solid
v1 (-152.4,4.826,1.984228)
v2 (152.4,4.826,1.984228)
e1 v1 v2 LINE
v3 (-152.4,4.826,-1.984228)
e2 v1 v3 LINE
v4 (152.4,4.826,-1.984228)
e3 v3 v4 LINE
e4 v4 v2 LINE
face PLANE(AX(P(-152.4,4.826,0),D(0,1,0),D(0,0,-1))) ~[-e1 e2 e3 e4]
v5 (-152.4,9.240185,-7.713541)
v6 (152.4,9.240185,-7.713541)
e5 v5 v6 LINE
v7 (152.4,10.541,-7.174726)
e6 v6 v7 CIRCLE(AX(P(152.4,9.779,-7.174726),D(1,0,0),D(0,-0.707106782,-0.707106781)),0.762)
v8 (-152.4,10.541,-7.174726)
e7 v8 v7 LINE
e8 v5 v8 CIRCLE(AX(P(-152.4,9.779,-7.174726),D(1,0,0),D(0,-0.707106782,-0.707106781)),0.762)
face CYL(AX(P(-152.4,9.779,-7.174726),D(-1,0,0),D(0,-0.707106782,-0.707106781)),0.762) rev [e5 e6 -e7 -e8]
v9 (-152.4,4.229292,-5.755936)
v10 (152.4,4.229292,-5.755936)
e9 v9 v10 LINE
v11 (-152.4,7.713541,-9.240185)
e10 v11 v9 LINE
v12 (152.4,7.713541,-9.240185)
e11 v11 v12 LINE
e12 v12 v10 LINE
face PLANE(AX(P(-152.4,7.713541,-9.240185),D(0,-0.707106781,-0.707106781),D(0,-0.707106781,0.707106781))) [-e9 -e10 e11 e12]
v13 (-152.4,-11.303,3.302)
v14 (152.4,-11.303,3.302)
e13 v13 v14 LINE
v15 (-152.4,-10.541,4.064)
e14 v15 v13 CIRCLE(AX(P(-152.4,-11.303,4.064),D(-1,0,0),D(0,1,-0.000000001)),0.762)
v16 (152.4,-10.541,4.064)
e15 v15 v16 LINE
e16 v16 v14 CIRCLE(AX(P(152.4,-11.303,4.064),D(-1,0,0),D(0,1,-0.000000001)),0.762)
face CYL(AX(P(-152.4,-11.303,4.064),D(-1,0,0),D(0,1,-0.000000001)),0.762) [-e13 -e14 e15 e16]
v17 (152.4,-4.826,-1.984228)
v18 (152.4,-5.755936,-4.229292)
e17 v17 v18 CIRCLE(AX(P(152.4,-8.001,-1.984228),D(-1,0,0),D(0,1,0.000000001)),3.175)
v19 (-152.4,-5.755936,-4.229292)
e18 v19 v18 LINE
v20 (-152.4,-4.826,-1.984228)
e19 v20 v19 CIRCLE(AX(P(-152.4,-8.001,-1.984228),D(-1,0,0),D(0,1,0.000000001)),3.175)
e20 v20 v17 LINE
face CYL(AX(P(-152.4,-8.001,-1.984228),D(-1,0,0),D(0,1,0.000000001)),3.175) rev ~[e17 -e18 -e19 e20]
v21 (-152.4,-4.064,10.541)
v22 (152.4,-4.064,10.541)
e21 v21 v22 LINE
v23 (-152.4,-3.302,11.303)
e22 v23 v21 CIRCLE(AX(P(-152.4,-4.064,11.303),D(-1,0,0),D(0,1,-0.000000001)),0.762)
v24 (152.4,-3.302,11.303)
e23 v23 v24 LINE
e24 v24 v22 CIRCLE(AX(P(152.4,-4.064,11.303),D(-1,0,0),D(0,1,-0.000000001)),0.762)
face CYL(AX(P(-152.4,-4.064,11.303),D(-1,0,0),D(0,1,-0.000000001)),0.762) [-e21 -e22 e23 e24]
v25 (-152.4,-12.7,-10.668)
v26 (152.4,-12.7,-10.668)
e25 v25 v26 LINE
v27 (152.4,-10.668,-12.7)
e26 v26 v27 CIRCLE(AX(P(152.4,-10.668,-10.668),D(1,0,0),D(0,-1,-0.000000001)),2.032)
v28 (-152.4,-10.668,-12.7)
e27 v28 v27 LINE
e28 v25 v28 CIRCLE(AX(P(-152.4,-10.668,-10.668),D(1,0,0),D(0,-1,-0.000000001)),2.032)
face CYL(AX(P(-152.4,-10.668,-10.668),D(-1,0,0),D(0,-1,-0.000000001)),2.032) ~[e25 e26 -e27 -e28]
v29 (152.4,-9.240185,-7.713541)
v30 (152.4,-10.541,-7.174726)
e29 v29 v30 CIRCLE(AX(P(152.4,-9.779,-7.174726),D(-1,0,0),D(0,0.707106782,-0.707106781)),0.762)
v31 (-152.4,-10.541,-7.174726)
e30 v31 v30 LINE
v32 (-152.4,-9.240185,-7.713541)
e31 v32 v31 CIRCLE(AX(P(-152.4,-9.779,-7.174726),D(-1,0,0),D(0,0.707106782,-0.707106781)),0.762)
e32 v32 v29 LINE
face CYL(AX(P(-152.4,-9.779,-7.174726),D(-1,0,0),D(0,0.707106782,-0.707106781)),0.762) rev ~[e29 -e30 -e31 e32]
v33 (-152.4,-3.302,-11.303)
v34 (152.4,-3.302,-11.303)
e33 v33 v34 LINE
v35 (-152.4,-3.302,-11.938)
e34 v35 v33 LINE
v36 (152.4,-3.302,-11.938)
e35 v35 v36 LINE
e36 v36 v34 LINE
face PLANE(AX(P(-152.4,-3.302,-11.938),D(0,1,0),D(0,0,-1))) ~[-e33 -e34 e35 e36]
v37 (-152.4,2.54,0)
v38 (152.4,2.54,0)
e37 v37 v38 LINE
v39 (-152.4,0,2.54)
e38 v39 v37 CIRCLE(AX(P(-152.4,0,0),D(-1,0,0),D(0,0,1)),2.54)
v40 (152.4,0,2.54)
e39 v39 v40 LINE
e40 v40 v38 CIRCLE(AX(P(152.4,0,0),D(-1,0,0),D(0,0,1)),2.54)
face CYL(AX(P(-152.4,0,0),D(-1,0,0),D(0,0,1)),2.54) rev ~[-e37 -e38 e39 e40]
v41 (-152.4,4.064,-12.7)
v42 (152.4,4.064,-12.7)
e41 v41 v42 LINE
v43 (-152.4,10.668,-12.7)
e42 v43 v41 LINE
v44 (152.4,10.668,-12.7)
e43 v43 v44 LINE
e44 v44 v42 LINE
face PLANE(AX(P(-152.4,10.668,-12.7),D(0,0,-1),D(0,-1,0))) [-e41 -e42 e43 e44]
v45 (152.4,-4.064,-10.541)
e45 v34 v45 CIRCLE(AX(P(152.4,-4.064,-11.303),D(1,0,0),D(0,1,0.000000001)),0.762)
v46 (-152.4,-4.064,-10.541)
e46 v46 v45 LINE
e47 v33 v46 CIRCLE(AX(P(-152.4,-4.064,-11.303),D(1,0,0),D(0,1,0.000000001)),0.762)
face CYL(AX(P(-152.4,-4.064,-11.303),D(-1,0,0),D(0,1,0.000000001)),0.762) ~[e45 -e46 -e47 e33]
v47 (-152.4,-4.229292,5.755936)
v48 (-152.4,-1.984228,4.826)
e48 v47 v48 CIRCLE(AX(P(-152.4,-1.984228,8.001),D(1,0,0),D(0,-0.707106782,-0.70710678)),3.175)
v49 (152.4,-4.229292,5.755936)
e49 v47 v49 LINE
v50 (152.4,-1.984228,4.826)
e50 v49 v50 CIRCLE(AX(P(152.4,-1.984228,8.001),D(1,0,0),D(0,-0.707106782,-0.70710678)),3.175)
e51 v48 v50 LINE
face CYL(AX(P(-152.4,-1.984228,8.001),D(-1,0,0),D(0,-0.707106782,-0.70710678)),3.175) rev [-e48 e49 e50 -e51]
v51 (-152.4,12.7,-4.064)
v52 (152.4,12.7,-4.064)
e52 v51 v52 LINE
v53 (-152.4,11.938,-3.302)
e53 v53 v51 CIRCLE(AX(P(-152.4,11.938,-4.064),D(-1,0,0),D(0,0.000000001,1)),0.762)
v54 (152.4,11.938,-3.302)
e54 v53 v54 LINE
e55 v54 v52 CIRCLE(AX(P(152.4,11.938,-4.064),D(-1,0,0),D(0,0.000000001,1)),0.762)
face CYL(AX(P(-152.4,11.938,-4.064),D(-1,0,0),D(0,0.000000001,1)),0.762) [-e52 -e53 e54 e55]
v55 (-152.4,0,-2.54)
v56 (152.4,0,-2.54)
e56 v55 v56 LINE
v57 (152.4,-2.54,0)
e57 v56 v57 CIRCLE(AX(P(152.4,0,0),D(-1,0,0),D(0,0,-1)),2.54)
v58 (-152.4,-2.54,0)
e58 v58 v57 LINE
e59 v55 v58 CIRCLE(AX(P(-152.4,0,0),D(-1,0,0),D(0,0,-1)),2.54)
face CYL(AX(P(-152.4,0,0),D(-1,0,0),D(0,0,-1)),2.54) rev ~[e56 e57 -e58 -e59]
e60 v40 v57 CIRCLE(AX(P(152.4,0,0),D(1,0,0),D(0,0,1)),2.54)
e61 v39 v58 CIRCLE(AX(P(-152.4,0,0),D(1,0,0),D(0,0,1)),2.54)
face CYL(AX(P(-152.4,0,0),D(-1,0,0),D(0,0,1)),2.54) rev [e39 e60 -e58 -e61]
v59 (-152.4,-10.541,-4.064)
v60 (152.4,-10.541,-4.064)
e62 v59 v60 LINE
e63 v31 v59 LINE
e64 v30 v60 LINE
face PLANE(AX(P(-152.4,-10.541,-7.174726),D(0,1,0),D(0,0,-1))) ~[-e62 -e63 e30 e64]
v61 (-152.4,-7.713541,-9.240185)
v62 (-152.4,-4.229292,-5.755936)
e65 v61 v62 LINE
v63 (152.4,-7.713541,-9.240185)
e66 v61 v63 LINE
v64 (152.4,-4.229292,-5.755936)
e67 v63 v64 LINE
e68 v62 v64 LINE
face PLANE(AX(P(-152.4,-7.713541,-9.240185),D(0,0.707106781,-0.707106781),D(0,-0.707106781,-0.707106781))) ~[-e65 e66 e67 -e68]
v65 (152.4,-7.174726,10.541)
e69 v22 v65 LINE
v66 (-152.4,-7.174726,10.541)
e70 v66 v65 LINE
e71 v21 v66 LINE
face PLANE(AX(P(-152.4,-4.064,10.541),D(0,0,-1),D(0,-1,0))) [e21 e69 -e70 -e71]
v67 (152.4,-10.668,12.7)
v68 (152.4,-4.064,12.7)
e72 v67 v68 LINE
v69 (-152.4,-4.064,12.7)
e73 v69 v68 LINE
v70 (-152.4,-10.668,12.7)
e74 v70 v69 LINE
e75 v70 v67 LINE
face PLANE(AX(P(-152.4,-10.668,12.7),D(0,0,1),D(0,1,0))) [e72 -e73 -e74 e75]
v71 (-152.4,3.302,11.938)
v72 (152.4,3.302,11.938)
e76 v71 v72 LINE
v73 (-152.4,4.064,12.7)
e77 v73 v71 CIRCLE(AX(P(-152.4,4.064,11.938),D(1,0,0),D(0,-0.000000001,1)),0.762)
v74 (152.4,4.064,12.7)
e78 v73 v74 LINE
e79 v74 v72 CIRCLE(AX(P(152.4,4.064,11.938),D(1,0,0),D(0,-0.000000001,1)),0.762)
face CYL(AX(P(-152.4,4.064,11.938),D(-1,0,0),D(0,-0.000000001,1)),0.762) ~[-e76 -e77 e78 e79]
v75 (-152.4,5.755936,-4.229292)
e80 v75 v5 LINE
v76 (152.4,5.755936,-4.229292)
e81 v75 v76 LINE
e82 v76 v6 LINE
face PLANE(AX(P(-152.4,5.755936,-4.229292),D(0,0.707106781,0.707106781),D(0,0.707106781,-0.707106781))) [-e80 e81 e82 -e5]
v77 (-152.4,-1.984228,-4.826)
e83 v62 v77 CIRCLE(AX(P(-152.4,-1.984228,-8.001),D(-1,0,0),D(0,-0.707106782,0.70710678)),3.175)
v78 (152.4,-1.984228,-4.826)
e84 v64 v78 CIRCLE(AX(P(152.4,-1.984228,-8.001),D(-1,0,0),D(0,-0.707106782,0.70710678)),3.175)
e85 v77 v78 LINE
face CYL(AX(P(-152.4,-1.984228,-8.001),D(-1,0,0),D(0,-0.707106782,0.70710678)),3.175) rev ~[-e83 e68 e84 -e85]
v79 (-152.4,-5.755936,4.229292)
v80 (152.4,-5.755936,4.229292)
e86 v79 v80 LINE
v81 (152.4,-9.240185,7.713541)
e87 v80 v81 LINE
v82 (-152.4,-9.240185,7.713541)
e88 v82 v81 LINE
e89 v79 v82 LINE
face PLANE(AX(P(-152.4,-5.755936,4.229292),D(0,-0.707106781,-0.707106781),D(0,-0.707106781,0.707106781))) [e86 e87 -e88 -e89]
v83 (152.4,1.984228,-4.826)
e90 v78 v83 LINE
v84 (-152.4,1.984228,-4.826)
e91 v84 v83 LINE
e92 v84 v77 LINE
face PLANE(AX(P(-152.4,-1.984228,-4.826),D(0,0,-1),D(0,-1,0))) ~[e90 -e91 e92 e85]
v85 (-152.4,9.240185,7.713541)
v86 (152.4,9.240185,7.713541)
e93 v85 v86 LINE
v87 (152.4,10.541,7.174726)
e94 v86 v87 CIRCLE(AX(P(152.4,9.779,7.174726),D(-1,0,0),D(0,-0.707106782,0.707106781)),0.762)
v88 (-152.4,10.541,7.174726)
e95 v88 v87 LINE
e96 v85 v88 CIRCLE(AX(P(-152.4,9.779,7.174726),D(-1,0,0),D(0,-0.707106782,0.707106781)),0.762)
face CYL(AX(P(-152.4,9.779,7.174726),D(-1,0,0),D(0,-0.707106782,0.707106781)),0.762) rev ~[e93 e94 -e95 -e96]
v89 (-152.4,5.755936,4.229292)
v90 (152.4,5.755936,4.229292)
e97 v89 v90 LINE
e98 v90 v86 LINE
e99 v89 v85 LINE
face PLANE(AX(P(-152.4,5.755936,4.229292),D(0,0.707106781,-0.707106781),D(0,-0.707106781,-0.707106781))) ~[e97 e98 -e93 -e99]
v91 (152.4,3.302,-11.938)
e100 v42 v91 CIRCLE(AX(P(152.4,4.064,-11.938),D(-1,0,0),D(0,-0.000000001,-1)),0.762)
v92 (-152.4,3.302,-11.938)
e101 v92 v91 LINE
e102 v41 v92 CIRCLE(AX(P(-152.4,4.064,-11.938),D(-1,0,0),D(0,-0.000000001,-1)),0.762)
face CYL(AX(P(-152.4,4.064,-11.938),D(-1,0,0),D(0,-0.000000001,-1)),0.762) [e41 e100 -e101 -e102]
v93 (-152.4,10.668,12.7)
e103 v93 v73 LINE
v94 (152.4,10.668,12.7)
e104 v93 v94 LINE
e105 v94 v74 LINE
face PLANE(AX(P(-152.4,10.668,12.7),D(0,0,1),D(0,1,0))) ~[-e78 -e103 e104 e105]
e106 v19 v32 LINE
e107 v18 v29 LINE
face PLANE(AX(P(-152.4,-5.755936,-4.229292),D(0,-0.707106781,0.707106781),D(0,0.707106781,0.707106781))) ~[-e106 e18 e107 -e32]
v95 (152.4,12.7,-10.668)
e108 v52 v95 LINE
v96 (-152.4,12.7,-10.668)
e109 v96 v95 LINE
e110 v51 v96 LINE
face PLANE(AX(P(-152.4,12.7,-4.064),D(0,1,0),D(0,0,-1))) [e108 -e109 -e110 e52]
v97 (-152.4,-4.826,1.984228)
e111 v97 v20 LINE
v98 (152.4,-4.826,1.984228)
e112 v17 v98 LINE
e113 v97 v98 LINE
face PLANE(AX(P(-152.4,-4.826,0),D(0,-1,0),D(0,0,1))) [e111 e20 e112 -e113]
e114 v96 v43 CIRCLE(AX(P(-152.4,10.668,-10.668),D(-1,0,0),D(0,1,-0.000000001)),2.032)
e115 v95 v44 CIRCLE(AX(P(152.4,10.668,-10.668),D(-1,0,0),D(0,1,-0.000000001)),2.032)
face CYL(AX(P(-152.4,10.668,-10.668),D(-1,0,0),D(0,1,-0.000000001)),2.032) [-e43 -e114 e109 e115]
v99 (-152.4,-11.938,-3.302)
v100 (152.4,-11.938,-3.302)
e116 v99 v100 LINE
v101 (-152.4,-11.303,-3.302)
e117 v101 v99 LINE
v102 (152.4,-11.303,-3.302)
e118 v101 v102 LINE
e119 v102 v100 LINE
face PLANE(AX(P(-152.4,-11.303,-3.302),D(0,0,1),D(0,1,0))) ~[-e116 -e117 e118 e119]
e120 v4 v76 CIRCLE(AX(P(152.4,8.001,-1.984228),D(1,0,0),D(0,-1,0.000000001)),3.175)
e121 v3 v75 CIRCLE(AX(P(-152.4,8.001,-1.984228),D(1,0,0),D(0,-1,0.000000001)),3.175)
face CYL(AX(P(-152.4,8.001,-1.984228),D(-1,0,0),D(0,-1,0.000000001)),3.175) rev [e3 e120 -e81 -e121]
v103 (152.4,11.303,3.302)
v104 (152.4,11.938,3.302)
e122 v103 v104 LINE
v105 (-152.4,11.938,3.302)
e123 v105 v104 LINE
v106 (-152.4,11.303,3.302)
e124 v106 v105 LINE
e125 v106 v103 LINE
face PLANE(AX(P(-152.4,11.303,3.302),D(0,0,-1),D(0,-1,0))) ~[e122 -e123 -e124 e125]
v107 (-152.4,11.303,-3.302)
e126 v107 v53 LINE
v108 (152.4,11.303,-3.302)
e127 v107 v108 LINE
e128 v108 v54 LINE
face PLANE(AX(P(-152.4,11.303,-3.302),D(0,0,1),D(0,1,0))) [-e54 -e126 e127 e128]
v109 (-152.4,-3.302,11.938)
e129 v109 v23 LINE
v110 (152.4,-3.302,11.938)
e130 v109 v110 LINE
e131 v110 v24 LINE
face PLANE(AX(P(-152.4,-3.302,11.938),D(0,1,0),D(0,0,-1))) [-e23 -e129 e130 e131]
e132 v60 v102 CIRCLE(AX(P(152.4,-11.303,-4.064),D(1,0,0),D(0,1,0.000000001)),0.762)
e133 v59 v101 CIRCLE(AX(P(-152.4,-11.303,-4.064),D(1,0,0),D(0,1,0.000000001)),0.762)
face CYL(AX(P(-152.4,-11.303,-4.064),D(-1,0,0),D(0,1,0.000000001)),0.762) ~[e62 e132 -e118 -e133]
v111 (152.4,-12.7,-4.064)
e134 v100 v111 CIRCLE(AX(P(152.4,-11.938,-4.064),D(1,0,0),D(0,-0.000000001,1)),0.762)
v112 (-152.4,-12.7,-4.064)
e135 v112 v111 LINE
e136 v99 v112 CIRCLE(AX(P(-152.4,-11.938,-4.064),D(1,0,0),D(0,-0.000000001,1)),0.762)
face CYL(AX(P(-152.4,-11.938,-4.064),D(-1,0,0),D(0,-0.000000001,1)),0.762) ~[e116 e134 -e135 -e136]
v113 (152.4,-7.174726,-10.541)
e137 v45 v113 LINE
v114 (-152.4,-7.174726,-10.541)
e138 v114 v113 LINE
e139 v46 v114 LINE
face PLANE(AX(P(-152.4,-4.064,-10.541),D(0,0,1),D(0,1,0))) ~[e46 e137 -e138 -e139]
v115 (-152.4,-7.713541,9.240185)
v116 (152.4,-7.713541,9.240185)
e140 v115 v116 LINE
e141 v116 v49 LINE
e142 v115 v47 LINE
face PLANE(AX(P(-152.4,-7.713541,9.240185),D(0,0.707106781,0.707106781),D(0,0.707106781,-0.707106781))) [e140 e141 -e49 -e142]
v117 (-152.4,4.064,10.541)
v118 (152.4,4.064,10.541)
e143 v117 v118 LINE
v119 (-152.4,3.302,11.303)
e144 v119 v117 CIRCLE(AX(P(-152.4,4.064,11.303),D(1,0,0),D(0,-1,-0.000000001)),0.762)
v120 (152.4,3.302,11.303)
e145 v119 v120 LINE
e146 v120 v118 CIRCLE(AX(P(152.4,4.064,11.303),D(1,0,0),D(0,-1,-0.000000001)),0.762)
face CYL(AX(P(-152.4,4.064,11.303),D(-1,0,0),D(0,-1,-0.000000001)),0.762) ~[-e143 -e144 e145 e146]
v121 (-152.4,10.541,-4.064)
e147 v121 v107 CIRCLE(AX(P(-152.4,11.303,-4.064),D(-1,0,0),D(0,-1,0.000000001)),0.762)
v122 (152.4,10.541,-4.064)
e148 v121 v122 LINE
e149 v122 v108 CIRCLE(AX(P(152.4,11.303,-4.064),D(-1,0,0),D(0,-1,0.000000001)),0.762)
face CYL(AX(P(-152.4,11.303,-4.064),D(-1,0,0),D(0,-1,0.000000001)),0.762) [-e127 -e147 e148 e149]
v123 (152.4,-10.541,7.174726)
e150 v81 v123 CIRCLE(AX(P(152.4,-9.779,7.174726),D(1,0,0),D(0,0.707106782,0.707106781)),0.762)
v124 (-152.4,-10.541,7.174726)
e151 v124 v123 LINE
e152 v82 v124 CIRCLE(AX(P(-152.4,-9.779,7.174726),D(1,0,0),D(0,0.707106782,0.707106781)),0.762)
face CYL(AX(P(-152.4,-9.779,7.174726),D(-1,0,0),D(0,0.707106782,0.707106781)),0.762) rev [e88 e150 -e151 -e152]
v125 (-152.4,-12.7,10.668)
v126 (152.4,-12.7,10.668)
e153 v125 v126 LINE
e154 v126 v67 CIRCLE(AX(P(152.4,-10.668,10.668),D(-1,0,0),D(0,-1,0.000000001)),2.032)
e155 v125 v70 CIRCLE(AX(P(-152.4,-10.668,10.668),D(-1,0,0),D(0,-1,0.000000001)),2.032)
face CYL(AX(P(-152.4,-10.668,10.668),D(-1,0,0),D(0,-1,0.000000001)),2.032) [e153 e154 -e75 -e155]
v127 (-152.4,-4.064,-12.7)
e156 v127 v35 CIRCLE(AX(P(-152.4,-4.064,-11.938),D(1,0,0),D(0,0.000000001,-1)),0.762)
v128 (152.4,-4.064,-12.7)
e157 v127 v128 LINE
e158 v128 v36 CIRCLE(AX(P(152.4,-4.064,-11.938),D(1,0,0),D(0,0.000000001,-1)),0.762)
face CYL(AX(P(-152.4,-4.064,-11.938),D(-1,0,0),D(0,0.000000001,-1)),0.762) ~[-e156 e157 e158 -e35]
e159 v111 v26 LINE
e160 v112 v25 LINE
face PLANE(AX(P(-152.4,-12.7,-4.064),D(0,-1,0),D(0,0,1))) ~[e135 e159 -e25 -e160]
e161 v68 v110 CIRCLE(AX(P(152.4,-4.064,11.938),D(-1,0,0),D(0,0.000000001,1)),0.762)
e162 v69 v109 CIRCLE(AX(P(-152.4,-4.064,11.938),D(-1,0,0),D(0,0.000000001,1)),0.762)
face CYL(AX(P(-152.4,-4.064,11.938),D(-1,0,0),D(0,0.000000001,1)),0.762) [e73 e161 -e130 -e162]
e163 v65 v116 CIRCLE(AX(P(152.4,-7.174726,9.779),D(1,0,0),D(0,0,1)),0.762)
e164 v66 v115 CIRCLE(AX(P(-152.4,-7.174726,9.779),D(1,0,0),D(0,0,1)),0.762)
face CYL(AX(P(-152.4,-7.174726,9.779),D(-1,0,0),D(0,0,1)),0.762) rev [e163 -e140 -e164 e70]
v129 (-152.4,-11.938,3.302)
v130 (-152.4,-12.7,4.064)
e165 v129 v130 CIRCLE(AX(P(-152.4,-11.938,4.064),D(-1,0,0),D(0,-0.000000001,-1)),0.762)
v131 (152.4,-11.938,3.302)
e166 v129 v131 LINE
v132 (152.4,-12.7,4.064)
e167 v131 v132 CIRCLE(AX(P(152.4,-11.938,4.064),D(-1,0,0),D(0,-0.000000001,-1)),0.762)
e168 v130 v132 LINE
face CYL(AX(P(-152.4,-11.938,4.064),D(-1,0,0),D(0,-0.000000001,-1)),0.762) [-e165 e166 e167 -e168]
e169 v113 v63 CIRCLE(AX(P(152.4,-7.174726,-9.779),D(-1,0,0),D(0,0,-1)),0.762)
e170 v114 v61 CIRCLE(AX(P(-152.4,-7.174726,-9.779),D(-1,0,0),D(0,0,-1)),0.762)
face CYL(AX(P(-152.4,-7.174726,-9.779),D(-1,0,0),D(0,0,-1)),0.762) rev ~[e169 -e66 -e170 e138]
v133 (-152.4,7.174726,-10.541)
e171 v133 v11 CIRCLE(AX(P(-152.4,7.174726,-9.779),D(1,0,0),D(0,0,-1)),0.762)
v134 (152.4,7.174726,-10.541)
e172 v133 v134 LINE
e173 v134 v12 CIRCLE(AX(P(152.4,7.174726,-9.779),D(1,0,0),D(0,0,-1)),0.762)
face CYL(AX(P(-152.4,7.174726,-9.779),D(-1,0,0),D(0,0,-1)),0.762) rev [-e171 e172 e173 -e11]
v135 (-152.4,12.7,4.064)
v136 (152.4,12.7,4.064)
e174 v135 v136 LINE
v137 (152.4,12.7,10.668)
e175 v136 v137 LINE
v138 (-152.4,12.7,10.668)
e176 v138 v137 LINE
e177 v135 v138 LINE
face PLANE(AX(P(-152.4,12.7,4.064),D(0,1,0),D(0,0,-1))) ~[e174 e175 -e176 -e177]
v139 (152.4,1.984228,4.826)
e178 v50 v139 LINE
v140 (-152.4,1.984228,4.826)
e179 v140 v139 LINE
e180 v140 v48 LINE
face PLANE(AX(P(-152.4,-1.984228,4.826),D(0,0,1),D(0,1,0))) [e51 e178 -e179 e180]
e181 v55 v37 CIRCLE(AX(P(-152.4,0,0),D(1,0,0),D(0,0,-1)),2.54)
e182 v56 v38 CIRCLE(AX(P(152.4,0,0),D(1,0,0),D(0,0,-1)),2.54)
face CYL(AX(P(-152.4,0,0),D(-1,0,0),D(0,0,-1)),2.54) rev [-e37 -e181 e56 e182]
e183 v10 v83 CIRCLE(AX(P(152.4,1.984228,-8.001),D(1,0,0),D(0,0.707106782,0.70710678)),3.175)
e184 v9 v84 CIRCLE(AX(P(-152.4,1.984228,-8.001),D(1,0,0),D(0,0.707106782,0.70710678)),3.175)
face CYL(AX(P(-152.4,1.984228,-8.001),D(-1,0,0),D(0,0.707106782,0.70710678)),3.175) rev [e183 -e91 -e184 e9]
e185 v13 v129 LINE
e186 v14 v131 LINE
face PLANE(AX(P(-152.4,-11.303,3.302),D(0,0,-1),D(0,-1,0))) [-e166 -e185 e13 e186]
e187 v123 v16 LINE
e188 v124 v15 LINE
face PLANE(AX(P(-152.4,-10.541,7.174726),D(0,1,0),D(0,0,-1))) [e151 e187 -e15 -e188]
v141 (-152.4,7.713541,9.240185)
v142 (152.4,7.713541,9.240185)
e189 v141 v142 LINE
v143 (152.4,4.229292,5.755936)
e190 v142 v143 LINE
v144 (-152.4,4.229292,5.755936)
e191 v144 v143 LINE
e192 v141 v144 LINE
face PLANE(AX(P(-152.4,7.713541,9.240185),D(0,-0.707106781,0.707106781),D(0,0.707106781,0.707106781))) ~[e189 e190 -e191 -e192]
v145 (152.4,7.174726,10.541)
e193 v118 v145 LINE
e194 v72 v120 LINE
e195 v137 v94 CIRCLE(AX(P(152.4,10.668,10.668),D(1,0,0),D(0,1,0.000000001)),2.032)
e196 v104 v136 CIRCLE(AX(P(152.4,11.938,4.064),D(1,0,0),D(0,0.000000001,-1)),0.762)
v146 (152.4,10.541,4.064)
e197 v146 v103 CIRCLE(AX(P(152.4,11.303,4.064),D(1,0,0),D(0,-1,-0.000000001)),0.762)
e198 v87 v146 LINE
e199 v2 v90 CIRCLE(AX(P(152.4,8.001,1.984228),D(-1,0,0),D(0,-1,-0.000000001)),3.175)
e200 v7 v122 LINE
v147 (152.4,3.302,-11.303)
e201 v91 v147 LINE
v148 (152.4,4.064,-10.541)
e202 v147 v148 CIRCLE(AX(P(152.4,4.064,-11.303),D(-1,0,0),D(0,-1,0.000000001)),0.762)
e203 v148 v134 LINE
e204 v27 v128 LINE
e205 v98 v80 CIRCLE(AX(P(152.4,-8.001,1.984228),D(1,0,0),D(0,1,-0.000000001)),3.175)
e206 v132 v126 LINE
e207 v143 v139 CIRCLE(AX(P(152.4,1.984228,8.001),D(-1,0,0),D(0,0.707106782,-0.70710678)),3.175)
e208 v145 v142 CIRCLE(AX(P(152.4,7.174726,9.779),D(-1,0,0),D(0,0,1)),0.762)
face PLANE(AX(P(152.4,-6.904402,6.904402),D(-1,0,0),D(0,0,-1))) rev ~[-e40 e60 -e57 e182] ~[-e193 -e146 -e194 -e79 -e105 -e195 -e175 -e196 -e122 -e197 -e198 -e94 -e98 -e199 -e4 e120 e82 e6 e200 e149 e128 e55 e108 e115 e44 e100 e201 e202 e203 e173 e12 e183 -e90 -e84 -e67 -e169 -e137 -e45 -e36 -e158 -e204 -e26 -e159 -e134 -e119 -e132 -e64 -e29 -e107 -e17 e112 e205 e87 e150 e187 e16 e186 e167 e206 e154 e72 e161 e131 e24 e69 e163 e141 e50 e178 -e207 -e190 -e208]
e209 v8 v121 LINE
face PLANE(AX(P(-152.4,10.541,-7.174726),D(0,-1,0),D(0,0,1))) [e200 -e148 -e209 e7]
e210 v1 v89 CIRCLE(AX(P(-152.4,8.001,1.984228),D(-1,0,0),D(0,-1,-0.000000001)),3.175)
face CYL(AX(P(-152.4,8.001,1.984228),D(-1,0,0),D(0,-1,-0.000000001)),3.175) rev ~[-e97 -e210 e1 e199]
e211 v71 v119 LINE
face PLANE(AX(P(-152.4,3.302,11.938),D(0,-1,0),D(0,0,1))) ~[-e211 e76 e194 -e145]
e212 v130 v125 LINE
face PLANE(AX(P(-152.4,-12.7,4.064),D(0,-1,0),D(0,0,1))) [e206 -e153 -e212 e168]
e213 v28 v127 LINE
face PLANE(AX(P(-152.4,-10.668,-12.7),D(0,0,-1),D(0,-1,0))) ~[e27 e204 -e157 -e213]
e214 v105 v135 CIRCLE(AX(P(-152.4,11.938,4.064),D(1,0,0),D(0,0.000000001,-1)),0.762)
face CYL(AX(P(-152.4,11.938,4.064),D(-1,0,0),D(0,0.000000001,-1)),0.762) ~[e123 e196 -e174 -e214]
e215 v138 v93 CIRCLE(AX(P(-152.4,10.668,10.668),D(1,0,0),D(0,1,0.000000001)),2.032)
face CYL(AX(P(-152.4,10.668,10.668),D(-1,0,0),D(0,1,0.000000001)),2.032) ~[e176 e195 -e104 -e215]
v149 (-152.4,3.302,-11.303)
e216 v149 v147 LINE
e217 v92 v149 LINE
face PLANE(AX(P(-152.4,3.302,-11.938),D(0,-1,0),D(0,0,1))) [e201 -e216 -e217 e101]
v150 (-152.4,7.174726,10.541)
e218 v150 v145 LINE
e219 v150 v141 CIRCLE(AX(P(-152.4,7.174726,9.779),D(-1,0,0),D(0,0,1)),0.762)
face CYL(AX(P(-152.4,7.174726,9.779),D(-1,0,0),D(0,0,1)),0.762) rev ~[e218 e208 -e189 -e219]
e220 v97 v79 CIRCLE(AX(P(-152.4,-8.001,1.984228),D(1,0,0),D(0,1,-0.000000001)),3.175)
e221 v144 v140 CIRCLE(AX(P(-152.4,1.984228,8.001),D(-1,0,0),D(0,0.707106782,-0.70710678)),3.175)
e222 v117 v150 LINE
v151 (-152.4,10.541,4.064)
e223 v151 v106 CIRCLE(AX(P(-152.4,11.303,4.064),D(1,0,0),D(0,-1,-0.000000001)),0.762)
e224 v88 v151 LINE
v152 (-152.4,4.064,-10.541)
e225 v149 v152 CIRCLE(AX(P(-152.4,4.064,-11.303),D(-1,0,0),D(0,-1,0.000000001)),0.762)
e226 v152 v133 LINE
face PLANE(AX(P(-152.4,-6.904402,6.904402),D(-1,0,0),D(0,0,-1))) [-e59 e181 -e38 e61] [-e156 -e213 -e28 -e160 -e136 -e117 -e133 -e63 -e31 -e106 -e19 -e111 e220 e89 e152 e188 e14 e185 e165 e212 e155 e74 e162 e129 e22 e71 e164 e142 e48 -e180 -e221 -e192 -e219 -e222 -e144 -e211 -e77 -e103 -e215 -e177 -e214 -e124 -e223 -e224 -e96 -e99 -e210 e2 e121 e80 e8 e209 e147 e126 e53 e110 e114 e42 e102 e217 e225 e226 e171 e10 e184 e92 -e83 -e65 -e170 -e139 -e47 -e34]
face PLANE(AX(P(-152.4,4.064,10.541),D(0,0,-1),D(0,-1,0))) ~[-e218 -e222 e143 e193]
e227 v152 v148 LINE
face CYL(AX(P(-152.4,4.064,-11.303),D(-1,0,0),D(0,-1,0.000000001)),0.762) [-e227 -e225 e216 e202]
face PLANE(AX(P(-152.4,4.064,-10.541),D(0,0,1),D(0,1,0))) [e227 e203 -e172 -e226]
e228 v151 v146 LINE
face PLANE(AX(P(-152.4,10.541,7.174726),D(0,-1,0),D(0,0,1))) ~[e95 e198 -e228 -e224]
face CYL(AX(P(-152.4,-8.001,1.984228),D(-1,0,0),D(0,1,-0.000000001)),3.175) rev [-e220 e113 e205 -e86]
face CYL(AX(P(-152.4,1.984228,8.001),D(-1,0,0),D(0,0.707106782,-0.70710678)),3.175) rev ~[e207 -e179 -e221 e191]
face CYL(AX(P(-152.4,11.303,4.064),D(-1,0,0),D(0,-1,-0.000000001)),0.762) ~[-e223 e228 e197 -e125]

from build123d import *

# Parameters (mm, degrees)
BOSS_EXTRUDE1_DEPTH      = 152.4
BOSS_EXTRUDE1_DEPTH_BACK = 152.4


with BuildPart() as part:
    # Sketch3 → Boss-Extrude1 (new, two sides: drawn at the far end of the back side and taken through both)
    with BuildSketch(Plane(origin=(0, 0, 0), x_dir=(0, 0, -1), z_dir=(1, 0, 0)).offset(-BOSS_EXTRUDE1_DEPTH_BACK)):
        with BuildLine():
            Line((0, 4.826), (1.984228399, 4.826))
            ThreePointArc((1.984228399, 4.826), (3.199248297, 5.067682484), (4.229292429, 5.75593597))
            Line((4.229292429, 5.75593597), (7.713541092, 9.240184633))
            ThreePointArc((7.713541092, 9.240184633), (7.878721929, 10.070604775), (7.174725725, 10.541))
            Line((7.174725725, 10.541), (4.064, 10.541))
            ThreePointArc((4.064, 10.541), (3.525184633, 10.764184633), (3.302, 11.303))
            Line((3.302, 11.303), (3.302, 11.938))
            ThreePointArc((3.302, 11.938), (3.525184633, 12.476815367), (4.064, 12.7))
            Line((4.064, 12.7), (10.668, 12.7))
            ThreePointArc((10.668, 12.7), (12.104840979, 12.104840979), (12.7, 10.668))
            Line((12.7, 10.668), (12.7, 4.064))
            ThreePointArc((12.7, 4.064), (12.476815367, 3.525184633), (11.938, 3.302))
            Line((11.938, 3.302), (11.303, 3.302))
            ThreePointArc((11.303, 3.302), (10.764184633, 3.525184633), (10.541, 4.064))
            Line((10.541, 4.064), (10.541, 7.174725725))
            ThreePointArc((10.541, 7.174725725), (10.070604775, 7.878721929), (9.240184633, 7.713541092))
            Line((9.240184633, 7.713541092), (5.75593597, 4.229292429))
            ThreePointArc((5.75593597, 4.229292429), (5.067682484, 3.199248297), (4.826, 1.984228399))
            Line((4.826, 1.984228399), (4.826, 0))
            Line((4.826, 0), (2.54, 0))
            ThreePointArc((2.54, 0), (1.796051224, 1.796051224), (0, 2.54))
            Line((0, 2.54), (0, 4.826))
        make_face()
    extrude(amount=BOSS_EXTRUDE1_DEPTH + BOSS_EXTRUDE1_DEPTH_BACK)

    # Mirror1: part across plane


with BuildPart() as part_1:
    add(part.part)
    add(part.part.mirror(Plane.ZX))

    # Mirror2: part across plane


with BuildPart() as part_2:
    add(part_1.part)
    add(part_1.part.mirror(Plane.XY))


solid = part_2.part
